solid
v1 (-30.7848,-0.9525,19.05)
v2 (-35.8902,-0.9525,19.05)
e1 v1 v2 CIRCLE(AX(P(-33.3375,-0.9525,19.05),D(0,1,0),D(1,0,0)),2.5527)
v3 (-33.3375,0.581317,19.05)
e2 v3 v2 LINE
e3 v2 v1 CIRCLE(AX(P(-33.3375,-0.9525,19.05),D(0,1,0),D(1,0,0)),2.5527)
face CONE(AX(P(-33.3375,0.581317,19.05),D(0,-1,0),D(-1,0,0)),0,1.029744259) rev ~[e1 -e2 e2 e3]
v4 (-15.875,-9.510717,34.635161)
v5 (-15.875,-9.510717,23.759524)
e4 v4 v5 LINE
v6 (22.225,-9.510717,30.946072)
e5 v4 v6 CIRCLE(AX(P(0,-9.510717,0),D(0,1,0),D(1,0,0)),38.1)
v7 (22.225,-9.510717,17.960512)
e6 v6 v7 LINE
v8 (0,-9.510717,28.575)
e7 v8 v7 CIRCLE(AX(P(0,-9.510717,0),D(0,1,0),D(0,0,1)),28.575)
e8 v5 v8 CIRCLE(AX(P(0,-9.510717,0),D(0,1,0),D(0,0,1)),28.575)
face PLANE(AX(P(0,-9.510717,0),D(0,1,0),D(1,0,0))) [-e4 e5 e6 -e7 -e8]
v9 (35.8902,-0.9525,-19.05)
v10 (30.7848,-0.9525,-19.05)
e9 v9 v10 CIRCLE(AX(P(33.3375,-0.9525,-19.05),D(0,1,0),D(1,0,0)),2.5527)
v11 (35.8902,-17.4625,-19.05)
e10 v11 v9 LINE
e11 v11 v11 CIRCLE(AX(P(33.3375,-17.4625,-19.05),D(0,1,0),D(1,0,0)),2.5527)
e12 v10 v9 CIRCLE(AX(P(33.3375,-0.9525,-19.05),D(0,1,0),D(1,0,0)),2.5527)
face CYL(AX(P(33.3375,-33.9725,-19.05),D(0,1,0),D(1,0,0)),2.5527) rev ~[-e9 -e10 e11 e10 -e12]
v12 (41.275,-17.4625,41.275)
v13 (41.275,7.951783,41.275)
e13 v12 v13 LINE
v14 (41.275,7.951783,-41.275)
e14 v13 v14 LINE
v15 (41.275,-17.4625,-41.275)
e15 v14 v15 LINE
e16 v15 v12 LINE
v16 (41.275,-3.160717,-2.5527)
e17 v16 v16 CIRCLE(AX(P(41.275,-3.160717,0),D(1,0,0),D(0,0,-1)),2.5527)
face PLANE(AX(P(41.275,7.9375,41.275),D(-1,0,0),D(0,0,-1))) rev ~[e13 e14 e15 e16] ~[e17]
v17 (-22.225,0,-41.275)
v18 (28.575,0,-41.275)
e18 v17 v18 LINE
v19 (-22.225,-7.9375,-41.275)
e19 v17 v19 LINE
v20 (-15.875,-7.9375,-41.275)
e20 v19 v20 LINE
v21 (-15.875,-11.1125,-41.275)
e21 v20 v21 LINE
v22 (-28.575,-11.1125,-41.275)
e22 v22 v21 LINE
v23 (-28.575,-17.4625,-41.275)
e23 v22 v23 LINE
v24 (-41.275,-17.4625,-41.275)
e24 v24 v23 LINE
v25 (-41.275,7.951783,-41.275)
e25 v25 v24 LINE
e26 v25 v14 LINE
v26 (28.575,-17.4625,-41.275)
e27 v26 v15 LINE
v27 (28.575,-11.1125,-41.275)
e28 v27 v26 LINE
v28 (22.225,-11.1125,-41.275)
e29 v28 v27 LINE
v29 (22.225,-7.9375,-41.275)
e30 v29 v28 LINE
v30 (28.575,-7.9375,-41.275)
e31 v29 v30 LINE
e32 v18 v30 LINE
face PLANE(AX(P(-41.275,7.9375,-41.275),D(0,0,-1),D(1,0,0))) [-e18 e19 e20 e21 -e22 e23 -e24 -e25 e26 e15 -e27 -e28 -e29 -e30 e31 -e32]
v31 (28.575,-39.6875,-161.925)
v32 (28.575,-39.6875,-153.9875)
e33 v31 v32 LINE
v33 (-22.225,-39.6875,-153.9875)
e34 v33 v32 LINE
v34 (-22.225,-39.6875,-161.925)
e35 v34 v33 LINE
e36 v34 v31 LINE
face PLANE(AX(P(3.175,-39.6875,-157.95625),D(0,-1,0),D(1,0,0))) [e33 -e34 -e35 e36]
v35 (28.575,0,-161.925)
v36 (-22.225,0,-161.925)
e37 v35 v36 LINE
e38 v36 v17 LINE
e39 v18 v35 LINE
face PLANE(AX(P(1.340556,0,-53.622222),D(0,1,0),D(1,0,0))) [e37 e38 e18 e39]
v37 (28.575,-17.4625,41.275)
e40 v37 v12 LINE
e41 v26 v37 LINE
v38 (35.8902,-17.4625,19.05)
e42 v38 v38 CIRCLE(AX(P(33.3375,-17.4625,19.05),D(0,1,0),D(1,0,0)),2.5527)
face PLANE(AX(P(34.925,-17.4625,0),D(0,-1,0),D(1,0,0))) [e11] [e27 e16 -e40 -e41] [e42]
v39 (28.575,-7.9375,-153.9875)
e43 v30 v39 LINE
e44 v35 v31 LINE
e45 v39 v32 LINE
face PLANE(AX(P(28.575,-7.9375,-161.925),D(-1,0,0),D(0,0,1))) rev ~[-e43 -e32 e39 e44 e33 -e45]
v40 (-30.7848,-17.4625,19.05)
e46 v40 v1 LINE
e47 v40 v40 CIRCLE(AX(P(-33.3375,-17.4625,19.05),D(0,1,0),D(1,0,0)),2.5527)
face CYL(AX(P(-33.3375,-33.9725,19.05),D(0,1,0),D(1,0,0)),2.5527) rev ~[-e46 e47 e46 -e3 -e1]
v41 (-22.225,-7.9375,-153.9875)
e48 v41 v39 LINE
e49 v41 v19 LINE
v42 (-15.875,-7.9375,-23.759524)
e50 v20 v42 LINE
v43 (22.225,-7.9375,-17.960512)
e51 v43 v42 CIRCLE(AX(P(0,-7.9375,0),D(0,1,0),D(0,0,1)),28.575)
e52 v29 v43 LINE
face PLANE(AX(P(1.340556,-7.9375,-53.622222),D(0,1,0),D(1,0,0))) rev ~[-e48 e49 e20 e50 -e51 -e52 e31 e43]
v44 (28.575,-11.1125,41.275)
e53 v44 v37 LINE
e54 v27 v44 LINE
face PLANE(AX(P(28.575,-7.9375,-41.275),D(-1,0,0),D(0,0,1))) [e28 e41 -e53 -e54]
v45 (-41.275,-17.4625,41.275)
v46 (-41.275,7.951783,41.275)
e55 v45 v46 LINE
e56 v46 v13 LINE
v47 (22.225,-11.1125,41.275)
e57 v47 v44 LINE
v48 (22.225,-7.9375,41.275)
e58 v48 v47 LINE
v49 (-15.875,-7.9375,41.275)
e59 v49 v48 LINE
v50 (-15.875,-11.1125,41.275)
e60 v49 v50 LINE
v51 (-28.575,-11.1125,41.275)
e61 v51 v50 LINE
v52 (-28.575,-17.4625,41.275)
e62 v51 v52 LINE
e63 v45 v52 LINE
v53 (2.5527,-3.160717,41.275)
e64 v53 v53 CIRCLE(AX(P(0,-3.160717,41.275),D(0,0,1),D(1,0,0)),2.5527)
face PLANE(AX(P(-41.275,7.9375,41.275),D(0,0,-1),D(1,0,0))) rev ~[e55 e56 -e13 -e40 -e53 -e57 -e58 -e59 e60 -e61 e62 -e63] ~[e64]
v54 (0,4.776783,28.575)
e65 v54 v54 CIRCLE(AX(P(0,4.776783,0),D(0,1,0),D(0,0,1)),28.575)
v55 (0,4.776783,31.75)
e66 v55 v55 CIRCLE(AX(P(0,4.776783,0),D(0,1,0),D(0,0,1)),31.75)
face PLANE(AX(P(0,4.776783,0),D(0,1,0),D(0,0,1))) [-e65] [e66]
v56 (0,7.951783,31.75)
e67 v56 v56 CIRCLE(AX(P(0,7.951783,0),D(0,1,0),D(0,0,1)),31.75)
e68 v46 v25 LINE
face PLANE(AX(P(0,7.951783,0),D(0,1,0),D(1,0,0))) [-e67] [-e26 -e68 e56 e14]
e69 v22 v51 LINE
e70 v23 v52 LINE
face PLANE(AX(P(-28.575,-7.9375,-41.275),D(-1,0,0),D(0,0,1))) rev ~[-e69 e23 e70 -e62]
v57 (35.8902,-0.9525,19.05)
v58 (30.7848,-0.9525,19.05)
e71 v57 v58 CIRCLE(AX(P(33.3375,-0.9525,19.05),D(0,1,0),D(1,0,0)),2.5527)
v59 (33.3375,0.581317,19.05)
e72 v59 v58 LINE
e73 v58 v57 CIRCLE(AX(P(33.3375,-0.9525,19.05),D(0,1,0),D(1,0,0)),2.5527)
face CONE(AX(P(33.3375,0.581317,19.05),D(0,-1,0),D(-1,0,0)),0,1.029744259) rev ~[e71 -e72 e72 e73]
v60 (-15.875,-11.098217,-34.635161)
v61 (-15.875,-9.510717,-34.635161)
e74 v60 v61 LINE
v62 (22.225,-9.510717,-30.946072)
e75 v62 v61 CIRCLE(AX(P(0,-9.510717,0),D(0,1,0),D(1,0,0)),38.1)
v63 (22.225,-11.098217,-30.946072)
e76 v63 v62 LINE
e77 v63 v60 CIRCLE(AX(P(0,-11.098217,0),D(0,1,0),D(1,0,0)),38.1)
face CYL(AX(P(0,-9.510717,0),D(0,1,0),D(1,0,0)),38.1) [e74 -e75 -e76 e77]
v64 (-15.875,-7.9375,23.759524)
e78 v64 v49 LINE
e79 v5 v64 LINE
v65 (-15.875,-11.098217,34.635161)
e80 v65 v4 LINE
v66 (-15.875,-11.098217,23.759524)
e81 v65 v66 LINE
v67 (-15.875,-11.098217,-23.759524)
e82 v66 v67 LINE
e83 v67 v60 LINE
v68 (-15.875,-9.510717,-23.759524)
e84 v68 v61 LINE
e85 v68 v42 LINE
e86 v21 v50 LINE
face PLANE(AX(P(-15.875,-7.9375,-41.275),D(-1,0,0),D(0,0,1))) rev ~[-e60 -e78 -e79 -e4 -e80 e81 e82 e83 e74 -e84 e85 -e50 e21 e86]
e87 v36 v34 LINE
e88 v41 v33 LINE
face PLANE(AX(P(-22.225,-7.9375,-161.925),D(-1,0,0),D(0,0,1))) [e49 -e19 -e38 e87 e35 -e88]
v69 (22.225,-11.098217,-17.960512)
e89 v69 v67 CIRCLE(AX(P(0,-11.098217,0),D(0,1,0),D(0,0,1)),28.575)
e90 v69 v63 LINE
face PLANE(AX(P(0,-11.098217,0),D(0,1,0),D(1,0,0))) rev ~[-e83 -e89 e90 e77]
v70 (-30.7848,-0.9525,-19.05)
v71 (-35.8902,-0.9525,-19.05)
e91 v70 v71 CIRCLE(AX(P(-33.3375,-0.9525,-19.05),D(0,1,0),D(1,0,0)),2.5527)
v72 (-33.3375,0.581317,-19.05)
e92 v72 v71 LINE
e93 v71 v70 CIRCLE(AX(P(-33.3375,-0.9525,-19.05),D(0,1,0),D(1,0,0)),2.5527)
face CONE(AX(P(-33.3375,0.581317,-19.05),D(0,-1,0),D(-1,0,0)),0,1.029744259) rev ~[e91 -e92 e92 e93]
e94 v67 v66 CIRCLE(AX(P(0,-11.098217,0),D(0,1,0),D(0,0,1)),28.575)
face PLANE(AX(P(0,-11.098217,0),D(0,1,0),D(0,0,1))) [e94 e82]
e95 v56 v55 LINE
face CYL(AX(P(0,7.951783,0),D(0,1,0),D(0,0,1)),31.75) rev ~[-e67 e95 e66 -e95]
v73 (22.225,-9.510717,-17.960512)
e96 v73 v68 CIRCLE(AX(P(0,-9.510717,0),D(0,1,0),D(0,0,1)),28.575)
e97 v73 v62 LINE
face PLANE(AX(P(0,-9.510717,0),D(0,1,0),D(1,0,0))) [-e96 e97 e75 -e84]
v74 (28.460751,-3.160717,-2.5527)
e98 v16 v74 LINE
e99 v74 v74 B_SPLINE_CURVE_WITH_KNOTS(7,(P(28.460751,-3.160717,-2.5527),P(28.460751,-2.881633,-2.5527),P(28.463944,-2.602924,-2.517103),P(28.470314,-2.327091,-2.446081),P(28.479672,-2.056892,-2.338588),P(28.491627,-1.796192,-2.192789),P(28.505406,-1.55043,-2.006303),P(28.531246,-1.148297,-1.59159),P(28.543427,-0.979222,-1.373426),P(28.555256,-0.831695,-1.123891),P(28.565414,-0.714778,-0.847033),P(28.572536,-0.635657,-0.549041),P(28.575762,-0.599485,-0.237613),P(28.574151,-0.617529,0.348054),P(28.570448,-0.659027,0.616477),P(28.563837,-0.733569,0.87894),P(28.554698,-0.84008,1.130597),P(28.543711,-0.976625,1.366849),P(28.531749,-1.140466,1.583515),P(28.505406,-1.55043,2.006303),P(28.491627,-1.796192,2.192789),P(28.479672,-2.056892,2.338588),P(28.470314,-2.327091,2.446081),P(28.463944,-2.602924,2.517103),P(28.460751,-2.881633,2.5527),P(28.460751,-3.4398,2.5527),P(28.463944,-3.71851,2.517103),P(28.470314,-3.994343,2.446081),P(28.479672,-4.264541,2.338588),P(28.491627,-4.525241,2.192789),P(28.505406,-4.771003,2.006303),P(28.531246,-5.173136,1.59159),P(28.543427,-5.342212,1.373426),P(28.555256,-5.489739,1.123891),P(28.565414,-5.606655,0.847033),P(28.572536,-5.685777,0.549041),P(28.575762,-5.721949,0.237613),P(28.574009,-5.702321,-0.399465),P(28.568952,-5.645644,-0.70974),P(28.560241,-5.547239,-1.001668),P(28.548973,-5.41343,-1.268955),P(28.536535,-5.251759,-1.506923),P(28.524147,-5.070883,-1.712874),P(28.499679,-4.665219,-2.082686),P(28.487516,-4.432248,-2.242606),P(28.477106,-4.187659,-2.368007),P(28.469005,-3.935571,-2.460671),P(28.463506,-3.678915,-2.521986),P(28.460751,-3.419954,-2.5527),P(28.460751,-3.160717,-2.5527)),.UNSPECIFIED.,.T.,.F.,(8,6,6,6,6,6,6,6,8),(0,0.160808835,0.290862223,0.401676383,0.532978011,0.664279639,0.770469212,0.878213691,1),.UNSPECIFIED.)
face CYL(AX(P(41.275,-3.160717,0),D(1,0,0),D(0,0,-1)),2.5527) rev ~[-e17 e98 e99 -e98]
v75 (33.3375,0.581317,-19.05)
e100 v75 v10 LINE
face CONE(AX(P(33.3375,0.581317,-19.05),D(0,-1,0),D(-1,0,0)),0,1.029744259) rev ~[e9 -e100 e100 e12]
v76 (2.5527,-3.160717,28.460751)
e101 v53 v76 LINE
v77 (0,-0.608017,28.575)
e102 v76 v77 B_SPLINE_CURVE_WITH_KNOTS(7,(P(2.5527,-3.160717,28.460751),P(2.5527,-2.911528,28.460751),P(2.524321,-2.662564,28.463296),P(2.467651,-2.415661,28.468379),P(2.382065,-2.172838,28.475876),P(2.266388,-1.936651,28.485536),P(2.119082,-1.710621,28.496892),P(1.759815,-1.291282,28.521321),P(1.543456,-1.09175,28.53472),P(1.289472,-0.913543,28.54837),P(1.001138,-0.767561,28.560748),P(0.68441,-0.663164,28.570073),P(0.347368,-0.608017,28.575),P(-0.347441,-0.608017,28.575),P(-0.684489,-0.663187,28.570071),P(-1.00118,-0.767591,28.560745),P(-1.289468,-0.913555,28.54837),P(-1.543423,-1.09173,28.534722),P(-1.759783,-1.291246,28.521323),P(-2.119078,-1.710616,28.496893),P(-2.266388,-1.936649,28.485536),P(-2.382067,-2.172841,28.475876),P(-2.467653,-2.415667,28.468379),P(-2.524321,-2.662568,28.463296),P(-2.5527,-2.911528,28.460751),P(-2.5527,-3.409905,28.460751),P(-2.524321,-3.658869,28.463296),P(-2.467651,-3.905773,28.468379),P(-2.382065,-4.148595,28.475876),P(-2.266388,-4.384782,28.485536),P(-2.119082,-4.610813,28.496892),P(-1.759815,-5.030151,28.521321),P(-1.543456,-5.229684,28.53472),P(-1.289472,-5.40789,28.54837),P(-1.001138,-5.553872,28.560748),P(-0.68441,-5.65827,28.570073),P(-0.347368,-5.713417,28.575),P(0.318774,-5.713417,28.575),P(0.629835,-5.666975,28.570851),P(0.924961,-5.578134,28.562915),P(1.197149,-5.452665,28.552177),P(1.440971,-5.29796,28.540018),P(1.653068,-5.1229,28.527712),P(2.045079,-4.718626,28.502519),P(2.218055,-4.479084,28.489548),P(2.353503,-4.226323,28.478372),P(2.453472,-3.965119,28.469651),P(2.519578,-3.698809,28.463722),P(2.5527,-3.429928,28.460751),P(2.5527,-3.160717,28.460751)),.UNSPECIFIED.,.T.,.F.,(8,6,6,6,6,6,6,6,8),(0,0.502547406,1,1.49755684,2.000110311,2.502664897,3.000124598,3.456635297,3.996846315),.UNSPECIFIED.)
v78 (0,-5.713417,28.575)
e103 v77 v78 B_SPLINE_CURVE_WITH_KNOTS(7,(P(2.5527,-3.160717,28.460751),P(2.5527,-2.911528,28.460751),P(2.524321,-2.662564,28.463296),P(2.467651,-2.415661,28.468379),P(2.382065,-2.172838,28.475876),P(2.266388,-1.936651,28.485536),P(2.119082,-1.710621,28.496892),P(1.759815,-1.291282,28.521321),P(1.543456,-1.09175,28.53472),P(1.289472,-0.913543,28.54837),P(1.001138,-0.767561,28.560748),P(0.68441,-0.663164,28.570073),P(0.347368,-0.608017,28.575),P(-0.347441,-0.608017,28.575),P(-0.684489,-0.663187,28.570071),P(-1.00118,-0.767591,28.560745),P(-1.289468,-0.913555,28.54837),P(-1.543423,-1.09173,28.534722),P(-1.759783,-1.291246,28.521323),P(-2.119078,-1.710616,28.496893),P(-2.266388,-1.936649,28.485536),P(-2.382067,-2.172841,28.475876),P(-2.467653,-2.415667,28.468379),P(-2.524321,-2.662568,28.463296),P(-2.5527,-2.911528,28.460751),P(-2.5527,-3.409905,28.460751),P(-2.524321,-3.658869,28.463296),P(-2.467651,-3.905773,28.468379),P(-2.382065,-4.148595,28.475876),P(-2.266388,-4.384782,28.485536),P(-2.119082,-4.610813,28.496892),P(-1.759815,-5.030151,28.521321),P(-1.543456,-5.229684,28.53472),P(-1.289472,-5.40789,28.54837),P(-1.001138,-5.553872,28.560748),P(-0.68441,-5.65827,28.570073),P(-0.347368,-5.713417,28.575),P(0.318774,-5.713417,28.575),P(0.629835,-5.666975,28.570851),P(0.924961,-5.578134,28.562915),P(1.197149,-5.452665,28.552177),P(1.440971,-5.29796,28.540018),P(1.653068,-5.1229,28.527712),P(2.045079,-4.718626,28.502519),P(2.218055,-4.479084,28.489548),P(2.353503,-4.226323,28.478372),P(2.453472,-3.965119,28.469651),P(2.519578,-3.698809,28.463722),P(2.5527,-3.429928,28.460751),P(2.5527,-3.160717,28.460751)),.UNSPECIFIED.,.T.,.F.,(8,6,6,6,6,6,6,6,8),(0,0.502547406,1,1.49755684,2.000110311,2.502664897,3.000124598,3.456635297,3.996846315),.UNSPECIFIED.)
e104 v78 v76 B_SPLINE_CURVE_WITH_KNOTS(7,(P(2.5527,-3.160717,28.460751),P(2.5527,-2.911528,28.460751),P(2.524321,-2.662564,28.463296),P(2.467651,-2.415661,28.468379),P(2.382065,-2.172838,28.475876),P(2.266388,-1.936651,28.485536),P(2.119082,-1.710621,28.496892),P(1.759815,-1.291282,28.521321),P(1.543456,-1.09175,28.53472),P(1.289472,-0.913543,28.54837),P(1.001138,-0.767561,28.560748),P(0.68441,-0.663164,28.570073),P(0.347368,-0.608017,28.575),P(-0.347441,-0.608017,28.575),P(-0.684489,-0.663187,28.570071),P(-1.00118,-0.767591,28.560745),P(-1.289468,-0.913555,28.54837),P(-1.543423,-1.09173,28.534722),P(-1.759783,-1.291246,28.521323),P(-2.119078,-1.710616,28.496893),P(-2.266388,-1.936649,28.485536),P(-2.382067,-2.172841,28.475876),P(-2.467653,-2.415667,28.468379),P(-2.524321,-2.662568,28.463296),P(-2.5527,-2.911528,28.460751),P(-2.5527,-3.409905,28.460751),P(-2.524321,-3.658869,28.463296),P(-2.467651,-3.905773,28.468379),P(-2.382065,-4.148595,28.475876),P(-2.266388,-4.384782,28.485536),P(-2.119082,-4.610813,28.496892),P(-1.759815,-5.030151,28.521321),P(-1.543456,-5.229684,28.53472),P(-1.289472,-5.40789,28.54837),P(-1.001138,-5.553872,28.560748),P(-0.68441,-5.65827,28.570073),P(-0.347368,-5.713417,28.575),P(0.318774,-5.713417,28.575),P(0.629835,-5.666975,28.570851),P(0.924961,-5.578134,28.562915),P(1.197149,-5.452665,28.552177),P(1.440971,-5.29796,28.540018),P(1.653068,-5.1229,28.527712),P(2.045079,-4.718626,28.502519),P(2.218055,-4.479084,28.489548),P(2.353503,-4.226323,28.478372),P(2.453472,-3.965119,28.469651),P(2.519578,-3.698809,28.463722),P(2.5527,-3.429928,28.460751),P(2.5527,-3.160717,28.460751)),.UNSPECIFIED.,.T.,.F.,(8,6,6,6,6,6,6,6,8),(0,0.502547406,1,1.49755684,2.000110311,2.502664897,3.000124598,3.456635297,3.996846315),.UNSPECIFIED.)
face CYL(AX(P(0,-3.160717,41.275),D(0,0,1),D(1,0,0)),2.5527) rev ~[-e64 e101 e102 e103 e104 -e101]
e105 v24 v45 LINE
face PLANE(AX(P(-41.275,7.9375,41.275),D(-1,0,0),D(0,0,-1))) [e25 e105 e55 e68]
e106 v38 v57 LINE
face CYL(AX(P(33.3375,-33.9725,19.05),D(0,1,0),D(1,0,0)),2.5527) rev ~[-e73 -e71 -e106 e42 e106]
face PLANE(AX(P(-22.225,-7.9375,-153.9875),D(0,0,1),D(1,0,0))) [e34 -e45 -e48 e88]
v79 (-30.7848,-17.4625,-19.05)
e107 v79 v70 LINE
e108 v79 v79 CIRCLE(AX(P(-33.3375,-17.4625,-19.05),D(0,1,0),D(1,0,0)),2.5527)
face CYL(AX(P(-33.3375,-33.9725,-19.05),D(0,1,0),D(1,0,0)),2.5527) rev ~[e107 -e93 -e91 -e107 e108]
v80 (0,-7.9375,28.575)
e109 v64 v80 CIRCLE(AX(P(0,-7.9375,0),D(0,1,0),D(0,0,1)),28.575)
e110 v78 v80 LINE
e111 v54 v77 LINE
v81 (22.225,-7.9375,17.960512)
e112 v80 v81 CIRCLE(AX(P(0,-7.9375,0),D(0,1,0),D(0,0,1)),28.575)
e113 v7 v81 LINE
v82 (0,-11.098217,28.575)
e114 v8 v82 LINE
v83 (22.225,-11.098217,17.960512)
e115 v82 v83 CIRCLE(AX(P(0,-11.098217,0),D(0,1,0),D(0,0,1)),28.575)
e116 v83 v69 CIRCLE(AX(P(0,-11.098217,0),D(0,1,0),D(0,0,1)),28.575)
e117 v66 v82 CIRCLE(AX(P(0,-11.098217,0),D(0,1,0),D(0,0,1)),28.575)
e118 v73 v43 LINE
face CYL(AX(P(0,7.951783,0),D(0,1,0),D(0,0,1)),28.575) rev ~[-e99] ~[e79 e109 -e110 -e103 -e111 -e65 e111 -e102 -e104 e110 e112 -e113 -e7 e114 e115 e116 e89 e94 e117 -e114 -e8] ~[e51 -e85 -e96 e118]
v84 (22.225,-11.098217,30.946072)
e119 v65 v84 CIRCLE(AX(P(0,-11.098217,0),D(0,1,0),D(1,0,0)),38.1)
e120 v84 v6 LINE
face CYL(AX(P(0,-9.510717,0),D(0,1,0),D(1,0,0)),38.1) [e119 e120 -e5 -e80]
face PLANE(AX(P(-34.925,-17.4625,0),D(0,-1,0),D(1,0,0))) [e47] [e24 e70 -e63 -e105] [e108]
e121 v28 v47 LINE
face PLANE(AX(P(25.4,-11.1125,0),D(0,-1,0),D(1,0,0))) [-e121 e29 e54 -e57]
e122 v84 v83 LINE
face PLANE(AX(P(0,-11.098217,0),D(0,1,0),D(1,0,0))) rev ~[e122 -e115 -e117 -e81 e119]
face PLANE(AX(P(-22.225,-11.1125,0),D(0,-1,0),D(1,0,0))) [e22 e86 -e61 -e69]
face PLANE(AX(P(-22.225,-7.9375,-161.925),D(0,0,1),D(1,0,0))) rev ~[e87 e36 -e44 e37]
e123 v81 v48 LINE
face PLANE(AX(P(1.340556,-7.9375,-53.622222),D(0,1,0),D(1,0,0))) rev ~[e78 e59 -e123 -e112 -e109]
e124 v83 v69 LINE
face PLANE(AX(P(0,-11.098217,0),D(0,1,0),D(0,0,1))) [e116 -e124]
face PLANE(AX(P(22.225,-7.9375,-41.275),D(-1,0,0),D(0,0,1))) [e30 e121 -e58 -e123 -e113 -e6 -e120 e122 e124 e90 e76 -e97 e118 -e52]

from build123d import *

# Parameters (mm, degrees)
BOSS_EXTRUDE1_DEPTH          = 7.9375
SKETCH2_W                    = 50.8
SKETCH2_H                    = 7.9375
BOSS_EXTRUDE2_DEPTH          = 31.75
SKETCH8_W                    = 82.55
SKETCH8_H                    = 82.55
BOSS_EXTRUDE6_DEPTH          = 7.9375
SKETCH10_R                   = 6.35
CENTER_HOLE_DEPTH            = 15.875
SKETCH12_W                   = 12.7
SKETCH12_H                   = 82.55
CLAMP_PAD_DEPTH              = 9.525
SKETCH13_W                   = 12.7
SKETCH13_H                   = 82.55
SKETCH13_W_2                 = 6.35
WEAR_PAD_DEPTH               = 3.175
SKETCH14_W                   = 82.55
SKETCH14_H                   = 82.55
BOSS_EXTRUDE10_DEPTH         = 0.014283
SKETCH15_R                   = 28.575
CUT_EXTRUDE3_DEPTH           = 19.05
BOSS_EXTRUDE7_START          = 1.5875
SKETCH11_R                   = 38.1
SKETCH11_R_2                 = 28.575
BOSS_EXTRUDE7_DEPTH          = 1.5875
SKETCH24_R                   = 31.75
CUT_EXTRUDE4_DEPTH           = 3.175
F_1_4_20_TAPPED_HOLE5_REACH  = 213.114
F_1_4_20_TAPPED_HOLE5_BORE_R = 2.5527
F_1_4_20_TAPPED_HOLE6_REACH  = 188.036
F_1_4_20_TAPPED_HOLE6_BORE_R = 2.5527
F_1_4_20_TAPPED_HOLE7_D      = 5.1054
F_1_4_20_TAPPED_HOLE7_DEPTH  = 16.51
F_1_4_20_TAPPED_HOLE7_TIP    = 1.533816902
F_1_4_20_TAPPED_HOLE8_D      = 5.1054
F_1_4_20_TAPPED_HOLE8_DEPTH  = 16.51
F_1_4_20_TAPPED_HOLE8_TIP    = 1.533816902


with BuildPart() as part:
    # Sketch1 → Boss-Extrude1 (new body)
    with BuildSketch(Plane(origin=(0, 0, 0), x_dir=(1, 0, 0), z_dir=(0, 1, 0))):
        Polygon((-22.225, 41.275), (-41.275, 41.275), (-41.275, -41.275), (41.275, -41.275), (41.275, 41.275), (28.575, 41.275), (28.575, 161.925), (-22.225, 161.925), align=None)
    extrude(amount=-BOSS_EXTRUDE1_DEPTH)

    # Sketch2 → Boss-Extrude2 (add)
    with BuildSketch(Plane.XZ.offset(7.9375)):
        with Locations((3.175, -157.95625)):
            Rectangle(SKETCH2_W, SKETCH2_H)
    extrude(amount=BOSS_EXTRUDE2_DEPTH)

    # Sketch8 → Boss-Extrude6 (add)
    with BuildSketch(Plane(origin=(0, 0, 0), x_dir=(1, 0, 0), z_dir=(0, 1, 0))):
        Rectangle(SKETCH8_W, SKETCH8_H)
    extrude(amount=BOSS_EXTRUDE6_DEPTH)

    # Sketch10 → Center Hole (cut)
    with BuildSketch(Plane(origin=(0, 7.9375, 0), x_dir=(1, 0, 0), z_dir=(0, 1, 0))):
        with Locations(Location((0, 0, 0), (0, 0, 270))):
            Circle(SKETCH10_R)
    extrude(amount=-CENTER_HOLE_DEPTH, mode=Mode.SUBTRACT)

    # Sketch12 → Clamp Pad (add)
    with BuildSketch(Plane.XZ.offset(7.9375)):
        with Locations((-34.925, 0)):
            Rectangle(SKETCH12_W, SKETCH12_H)
        with Locations((34.925, 0)):
            Rectangle(SKETCH12_W, SKETCH12_H)
    extrude(amount=CLAMP_PAD_DEPTH)

    # Sketch13 → Wear Pad (add)
    with BuildSketch(Plane.XZ.offset(7.9375)):
        with Locations((-22.225, 0)):
            Rectangle(SKETCH13_W, SKETCH13_H)
        with Locations((25.4, 0)):
            Rectangle(SKETCH13_W_2, SKETCH13_H)
    extrude(amount=WEAR_PAD_DEPTH)

    # Sketch14 → Boss-Extrude10 (add)
    with BuildSketch(Plane(origin=(0, 7.9375, 0), x_dir=(1, 0, 0), z_dir=(0, 1, 0))):
        Rectangle(SKETCH14_W, SKETCH14_H)
    extrude(amount=BOSS_EXTRUDE10_DEPTH)

    # Sketch15 → Cut-Extrude3 (cut)
    with BuildSketch(Plane(origin=(0, 7.951783292, 0), x_dir=(1, 0, 0), z_dir=(0, 1, 0))):
        with Locations(Location((0, 0, 0), (0, 0, 270))):
            Circle(SKETCH15_R)
    extrude(amount=-CUT_EXTRUDE3_DEPTH, mode=Mode.SUBTRACT)

    # Sketch11 → Boss-Extrude7 (add)
    with BuildSketch(Plane(origin=(0, -11.098216708, 0), x_dir=(1, 0, 0), z_dir=(0, 1, 0)).offset(BOSS_EXTRUDE7_START)):
        Circle(SKETCH11_R)
        with Locations(Location((0, 0, 0), (0, 0, 270))):
            Circle(SKETCH11_R_2, mode=Mode.SUBTRACT)
    extrude(amount=-BOSS_EXTRUDE7_DEPTH)

    # Sketch24 → Cut-Extrude4 (cut)
    with BuildSketch(Plane(origin=(0, 7.951783292, 0), x_dir=(1, 0, 0), z_dir=(0, 1, 0))):
        with Locations(Location((0, 0, 0), (0, 0, 270))):
            Circle(SKETCH24_R)
    extrude(amount=-CUT_EXTRUDE4_DEPTH, mode=Mode.SUBTRACT)

    # 1/4-20 Tapped Hole5 bore → 1/4-20 Tapped Hole5 (cut, up to next)
    with BuildSketch(Plane.XY.offset(41.275), mode=Mode.PRIVATE) as f_1_4_20_tapped_hole5_sk1:
        with Locations((0, -3.160716708)):
            Circle(F_1_4_20_TAPPED_HOLE5_BORE_R)
    f_1_4_20_tapped_hole5_tool1 = extrude(f_1_4_20_tapped_hole5_sk1.sketch, amount=-F_1_4_20_TAPPED_HOLE5_REACH, mode=Mode.PRIVATE) & part.part
    add(f_1_4_20_tapped_hole5_tool1.solids().sort_by_distance((0, -3.160717, 41.275))[0], mode=Mode.SUBTRACT)

    # 1/4-20 Tapped Hole6 bore → 1/4-20 Tapped Hole6 (cut, up to next)
    with BuildSketch(Plane(origin=(41.275, 0, 0), x_dir=(0, 0, -1), z_dir=(1, 0, 0)), mode=Mode.PRIVATE) as f_1_4_20_tapped_hole6_sk1:
        with Locations((0, -3.160716708)):
            Circle(F_1_4_20_TAPPED_HOLE6_BORE_R)
    f_1_4_20_tapped_hole6_tool1 = extrude(f_1_4_20_tapped_hole6_sk1.sketch, amount=-F_1_4_20_TAPPED_HOLE6_REACH, mode=Mode.PRIVATE) & part.part
    add(f_1_4_20_tapped_hole6_tool1.solids().sort_by_distance((41.275, -3.160717, 0))[0], mode=Mode.SUBTRACT)

    # 1/4-20 Tapped Hole7
    with Locations(Plane(origin=(0, -17.4625, 0), x_dir=(-1, 0, 0), z_dir=(0, -1, 0))):
        with Locations((33.3375, 19.05), (33.3375, -19.05)):
            Hole(F_1_4_20_TAPPED_HOLE7_D / 2, depth=F_1_4_20_TAPPED_HOLE7_DEPTH)
            with Locations((0, 0, -(F_1_4_20_TAPPED_HOLE7_DEPTH + F_1_4_20_TAPPED_HOLE7_TIP / 2))):  # 118° drill point
                Cone(0, F_1_4_20_TAPPED_HOLE7_D / 2, F_1_4_20_TAPPED_HOLE7_TIP, mode=Mode.SUBTRACT)

    # 1/4-20 Tapped Hole8
    with Locations(Plane(origin=(0, -17.4625, 0), x_dir=(-1, 0, 0), z_dir=(0, -1, 0))):
        with Locations((-33.3375, 19.05), (-33.3375, -19.05)):
            Hole(F_1_4_20_TAPPED_HOLE8_D / 2, depth=F_1_4_20_TAPPED_HOLE8_DEPTH)
            with Locations((0, 0, -(F_1_4_20_TAPPED_HOLE8_DEPTH + F_1_4_20_TAPPED_HOLE8_TIP / 2))):  # 118° drill point
                Cone(0, F_1_4_20_TAPPED_HOLE8_D / 2, F_1_4_20_TAPPED_HOLE8_TIP, mode=Mode.SUBTRACT)


solid = part.part
